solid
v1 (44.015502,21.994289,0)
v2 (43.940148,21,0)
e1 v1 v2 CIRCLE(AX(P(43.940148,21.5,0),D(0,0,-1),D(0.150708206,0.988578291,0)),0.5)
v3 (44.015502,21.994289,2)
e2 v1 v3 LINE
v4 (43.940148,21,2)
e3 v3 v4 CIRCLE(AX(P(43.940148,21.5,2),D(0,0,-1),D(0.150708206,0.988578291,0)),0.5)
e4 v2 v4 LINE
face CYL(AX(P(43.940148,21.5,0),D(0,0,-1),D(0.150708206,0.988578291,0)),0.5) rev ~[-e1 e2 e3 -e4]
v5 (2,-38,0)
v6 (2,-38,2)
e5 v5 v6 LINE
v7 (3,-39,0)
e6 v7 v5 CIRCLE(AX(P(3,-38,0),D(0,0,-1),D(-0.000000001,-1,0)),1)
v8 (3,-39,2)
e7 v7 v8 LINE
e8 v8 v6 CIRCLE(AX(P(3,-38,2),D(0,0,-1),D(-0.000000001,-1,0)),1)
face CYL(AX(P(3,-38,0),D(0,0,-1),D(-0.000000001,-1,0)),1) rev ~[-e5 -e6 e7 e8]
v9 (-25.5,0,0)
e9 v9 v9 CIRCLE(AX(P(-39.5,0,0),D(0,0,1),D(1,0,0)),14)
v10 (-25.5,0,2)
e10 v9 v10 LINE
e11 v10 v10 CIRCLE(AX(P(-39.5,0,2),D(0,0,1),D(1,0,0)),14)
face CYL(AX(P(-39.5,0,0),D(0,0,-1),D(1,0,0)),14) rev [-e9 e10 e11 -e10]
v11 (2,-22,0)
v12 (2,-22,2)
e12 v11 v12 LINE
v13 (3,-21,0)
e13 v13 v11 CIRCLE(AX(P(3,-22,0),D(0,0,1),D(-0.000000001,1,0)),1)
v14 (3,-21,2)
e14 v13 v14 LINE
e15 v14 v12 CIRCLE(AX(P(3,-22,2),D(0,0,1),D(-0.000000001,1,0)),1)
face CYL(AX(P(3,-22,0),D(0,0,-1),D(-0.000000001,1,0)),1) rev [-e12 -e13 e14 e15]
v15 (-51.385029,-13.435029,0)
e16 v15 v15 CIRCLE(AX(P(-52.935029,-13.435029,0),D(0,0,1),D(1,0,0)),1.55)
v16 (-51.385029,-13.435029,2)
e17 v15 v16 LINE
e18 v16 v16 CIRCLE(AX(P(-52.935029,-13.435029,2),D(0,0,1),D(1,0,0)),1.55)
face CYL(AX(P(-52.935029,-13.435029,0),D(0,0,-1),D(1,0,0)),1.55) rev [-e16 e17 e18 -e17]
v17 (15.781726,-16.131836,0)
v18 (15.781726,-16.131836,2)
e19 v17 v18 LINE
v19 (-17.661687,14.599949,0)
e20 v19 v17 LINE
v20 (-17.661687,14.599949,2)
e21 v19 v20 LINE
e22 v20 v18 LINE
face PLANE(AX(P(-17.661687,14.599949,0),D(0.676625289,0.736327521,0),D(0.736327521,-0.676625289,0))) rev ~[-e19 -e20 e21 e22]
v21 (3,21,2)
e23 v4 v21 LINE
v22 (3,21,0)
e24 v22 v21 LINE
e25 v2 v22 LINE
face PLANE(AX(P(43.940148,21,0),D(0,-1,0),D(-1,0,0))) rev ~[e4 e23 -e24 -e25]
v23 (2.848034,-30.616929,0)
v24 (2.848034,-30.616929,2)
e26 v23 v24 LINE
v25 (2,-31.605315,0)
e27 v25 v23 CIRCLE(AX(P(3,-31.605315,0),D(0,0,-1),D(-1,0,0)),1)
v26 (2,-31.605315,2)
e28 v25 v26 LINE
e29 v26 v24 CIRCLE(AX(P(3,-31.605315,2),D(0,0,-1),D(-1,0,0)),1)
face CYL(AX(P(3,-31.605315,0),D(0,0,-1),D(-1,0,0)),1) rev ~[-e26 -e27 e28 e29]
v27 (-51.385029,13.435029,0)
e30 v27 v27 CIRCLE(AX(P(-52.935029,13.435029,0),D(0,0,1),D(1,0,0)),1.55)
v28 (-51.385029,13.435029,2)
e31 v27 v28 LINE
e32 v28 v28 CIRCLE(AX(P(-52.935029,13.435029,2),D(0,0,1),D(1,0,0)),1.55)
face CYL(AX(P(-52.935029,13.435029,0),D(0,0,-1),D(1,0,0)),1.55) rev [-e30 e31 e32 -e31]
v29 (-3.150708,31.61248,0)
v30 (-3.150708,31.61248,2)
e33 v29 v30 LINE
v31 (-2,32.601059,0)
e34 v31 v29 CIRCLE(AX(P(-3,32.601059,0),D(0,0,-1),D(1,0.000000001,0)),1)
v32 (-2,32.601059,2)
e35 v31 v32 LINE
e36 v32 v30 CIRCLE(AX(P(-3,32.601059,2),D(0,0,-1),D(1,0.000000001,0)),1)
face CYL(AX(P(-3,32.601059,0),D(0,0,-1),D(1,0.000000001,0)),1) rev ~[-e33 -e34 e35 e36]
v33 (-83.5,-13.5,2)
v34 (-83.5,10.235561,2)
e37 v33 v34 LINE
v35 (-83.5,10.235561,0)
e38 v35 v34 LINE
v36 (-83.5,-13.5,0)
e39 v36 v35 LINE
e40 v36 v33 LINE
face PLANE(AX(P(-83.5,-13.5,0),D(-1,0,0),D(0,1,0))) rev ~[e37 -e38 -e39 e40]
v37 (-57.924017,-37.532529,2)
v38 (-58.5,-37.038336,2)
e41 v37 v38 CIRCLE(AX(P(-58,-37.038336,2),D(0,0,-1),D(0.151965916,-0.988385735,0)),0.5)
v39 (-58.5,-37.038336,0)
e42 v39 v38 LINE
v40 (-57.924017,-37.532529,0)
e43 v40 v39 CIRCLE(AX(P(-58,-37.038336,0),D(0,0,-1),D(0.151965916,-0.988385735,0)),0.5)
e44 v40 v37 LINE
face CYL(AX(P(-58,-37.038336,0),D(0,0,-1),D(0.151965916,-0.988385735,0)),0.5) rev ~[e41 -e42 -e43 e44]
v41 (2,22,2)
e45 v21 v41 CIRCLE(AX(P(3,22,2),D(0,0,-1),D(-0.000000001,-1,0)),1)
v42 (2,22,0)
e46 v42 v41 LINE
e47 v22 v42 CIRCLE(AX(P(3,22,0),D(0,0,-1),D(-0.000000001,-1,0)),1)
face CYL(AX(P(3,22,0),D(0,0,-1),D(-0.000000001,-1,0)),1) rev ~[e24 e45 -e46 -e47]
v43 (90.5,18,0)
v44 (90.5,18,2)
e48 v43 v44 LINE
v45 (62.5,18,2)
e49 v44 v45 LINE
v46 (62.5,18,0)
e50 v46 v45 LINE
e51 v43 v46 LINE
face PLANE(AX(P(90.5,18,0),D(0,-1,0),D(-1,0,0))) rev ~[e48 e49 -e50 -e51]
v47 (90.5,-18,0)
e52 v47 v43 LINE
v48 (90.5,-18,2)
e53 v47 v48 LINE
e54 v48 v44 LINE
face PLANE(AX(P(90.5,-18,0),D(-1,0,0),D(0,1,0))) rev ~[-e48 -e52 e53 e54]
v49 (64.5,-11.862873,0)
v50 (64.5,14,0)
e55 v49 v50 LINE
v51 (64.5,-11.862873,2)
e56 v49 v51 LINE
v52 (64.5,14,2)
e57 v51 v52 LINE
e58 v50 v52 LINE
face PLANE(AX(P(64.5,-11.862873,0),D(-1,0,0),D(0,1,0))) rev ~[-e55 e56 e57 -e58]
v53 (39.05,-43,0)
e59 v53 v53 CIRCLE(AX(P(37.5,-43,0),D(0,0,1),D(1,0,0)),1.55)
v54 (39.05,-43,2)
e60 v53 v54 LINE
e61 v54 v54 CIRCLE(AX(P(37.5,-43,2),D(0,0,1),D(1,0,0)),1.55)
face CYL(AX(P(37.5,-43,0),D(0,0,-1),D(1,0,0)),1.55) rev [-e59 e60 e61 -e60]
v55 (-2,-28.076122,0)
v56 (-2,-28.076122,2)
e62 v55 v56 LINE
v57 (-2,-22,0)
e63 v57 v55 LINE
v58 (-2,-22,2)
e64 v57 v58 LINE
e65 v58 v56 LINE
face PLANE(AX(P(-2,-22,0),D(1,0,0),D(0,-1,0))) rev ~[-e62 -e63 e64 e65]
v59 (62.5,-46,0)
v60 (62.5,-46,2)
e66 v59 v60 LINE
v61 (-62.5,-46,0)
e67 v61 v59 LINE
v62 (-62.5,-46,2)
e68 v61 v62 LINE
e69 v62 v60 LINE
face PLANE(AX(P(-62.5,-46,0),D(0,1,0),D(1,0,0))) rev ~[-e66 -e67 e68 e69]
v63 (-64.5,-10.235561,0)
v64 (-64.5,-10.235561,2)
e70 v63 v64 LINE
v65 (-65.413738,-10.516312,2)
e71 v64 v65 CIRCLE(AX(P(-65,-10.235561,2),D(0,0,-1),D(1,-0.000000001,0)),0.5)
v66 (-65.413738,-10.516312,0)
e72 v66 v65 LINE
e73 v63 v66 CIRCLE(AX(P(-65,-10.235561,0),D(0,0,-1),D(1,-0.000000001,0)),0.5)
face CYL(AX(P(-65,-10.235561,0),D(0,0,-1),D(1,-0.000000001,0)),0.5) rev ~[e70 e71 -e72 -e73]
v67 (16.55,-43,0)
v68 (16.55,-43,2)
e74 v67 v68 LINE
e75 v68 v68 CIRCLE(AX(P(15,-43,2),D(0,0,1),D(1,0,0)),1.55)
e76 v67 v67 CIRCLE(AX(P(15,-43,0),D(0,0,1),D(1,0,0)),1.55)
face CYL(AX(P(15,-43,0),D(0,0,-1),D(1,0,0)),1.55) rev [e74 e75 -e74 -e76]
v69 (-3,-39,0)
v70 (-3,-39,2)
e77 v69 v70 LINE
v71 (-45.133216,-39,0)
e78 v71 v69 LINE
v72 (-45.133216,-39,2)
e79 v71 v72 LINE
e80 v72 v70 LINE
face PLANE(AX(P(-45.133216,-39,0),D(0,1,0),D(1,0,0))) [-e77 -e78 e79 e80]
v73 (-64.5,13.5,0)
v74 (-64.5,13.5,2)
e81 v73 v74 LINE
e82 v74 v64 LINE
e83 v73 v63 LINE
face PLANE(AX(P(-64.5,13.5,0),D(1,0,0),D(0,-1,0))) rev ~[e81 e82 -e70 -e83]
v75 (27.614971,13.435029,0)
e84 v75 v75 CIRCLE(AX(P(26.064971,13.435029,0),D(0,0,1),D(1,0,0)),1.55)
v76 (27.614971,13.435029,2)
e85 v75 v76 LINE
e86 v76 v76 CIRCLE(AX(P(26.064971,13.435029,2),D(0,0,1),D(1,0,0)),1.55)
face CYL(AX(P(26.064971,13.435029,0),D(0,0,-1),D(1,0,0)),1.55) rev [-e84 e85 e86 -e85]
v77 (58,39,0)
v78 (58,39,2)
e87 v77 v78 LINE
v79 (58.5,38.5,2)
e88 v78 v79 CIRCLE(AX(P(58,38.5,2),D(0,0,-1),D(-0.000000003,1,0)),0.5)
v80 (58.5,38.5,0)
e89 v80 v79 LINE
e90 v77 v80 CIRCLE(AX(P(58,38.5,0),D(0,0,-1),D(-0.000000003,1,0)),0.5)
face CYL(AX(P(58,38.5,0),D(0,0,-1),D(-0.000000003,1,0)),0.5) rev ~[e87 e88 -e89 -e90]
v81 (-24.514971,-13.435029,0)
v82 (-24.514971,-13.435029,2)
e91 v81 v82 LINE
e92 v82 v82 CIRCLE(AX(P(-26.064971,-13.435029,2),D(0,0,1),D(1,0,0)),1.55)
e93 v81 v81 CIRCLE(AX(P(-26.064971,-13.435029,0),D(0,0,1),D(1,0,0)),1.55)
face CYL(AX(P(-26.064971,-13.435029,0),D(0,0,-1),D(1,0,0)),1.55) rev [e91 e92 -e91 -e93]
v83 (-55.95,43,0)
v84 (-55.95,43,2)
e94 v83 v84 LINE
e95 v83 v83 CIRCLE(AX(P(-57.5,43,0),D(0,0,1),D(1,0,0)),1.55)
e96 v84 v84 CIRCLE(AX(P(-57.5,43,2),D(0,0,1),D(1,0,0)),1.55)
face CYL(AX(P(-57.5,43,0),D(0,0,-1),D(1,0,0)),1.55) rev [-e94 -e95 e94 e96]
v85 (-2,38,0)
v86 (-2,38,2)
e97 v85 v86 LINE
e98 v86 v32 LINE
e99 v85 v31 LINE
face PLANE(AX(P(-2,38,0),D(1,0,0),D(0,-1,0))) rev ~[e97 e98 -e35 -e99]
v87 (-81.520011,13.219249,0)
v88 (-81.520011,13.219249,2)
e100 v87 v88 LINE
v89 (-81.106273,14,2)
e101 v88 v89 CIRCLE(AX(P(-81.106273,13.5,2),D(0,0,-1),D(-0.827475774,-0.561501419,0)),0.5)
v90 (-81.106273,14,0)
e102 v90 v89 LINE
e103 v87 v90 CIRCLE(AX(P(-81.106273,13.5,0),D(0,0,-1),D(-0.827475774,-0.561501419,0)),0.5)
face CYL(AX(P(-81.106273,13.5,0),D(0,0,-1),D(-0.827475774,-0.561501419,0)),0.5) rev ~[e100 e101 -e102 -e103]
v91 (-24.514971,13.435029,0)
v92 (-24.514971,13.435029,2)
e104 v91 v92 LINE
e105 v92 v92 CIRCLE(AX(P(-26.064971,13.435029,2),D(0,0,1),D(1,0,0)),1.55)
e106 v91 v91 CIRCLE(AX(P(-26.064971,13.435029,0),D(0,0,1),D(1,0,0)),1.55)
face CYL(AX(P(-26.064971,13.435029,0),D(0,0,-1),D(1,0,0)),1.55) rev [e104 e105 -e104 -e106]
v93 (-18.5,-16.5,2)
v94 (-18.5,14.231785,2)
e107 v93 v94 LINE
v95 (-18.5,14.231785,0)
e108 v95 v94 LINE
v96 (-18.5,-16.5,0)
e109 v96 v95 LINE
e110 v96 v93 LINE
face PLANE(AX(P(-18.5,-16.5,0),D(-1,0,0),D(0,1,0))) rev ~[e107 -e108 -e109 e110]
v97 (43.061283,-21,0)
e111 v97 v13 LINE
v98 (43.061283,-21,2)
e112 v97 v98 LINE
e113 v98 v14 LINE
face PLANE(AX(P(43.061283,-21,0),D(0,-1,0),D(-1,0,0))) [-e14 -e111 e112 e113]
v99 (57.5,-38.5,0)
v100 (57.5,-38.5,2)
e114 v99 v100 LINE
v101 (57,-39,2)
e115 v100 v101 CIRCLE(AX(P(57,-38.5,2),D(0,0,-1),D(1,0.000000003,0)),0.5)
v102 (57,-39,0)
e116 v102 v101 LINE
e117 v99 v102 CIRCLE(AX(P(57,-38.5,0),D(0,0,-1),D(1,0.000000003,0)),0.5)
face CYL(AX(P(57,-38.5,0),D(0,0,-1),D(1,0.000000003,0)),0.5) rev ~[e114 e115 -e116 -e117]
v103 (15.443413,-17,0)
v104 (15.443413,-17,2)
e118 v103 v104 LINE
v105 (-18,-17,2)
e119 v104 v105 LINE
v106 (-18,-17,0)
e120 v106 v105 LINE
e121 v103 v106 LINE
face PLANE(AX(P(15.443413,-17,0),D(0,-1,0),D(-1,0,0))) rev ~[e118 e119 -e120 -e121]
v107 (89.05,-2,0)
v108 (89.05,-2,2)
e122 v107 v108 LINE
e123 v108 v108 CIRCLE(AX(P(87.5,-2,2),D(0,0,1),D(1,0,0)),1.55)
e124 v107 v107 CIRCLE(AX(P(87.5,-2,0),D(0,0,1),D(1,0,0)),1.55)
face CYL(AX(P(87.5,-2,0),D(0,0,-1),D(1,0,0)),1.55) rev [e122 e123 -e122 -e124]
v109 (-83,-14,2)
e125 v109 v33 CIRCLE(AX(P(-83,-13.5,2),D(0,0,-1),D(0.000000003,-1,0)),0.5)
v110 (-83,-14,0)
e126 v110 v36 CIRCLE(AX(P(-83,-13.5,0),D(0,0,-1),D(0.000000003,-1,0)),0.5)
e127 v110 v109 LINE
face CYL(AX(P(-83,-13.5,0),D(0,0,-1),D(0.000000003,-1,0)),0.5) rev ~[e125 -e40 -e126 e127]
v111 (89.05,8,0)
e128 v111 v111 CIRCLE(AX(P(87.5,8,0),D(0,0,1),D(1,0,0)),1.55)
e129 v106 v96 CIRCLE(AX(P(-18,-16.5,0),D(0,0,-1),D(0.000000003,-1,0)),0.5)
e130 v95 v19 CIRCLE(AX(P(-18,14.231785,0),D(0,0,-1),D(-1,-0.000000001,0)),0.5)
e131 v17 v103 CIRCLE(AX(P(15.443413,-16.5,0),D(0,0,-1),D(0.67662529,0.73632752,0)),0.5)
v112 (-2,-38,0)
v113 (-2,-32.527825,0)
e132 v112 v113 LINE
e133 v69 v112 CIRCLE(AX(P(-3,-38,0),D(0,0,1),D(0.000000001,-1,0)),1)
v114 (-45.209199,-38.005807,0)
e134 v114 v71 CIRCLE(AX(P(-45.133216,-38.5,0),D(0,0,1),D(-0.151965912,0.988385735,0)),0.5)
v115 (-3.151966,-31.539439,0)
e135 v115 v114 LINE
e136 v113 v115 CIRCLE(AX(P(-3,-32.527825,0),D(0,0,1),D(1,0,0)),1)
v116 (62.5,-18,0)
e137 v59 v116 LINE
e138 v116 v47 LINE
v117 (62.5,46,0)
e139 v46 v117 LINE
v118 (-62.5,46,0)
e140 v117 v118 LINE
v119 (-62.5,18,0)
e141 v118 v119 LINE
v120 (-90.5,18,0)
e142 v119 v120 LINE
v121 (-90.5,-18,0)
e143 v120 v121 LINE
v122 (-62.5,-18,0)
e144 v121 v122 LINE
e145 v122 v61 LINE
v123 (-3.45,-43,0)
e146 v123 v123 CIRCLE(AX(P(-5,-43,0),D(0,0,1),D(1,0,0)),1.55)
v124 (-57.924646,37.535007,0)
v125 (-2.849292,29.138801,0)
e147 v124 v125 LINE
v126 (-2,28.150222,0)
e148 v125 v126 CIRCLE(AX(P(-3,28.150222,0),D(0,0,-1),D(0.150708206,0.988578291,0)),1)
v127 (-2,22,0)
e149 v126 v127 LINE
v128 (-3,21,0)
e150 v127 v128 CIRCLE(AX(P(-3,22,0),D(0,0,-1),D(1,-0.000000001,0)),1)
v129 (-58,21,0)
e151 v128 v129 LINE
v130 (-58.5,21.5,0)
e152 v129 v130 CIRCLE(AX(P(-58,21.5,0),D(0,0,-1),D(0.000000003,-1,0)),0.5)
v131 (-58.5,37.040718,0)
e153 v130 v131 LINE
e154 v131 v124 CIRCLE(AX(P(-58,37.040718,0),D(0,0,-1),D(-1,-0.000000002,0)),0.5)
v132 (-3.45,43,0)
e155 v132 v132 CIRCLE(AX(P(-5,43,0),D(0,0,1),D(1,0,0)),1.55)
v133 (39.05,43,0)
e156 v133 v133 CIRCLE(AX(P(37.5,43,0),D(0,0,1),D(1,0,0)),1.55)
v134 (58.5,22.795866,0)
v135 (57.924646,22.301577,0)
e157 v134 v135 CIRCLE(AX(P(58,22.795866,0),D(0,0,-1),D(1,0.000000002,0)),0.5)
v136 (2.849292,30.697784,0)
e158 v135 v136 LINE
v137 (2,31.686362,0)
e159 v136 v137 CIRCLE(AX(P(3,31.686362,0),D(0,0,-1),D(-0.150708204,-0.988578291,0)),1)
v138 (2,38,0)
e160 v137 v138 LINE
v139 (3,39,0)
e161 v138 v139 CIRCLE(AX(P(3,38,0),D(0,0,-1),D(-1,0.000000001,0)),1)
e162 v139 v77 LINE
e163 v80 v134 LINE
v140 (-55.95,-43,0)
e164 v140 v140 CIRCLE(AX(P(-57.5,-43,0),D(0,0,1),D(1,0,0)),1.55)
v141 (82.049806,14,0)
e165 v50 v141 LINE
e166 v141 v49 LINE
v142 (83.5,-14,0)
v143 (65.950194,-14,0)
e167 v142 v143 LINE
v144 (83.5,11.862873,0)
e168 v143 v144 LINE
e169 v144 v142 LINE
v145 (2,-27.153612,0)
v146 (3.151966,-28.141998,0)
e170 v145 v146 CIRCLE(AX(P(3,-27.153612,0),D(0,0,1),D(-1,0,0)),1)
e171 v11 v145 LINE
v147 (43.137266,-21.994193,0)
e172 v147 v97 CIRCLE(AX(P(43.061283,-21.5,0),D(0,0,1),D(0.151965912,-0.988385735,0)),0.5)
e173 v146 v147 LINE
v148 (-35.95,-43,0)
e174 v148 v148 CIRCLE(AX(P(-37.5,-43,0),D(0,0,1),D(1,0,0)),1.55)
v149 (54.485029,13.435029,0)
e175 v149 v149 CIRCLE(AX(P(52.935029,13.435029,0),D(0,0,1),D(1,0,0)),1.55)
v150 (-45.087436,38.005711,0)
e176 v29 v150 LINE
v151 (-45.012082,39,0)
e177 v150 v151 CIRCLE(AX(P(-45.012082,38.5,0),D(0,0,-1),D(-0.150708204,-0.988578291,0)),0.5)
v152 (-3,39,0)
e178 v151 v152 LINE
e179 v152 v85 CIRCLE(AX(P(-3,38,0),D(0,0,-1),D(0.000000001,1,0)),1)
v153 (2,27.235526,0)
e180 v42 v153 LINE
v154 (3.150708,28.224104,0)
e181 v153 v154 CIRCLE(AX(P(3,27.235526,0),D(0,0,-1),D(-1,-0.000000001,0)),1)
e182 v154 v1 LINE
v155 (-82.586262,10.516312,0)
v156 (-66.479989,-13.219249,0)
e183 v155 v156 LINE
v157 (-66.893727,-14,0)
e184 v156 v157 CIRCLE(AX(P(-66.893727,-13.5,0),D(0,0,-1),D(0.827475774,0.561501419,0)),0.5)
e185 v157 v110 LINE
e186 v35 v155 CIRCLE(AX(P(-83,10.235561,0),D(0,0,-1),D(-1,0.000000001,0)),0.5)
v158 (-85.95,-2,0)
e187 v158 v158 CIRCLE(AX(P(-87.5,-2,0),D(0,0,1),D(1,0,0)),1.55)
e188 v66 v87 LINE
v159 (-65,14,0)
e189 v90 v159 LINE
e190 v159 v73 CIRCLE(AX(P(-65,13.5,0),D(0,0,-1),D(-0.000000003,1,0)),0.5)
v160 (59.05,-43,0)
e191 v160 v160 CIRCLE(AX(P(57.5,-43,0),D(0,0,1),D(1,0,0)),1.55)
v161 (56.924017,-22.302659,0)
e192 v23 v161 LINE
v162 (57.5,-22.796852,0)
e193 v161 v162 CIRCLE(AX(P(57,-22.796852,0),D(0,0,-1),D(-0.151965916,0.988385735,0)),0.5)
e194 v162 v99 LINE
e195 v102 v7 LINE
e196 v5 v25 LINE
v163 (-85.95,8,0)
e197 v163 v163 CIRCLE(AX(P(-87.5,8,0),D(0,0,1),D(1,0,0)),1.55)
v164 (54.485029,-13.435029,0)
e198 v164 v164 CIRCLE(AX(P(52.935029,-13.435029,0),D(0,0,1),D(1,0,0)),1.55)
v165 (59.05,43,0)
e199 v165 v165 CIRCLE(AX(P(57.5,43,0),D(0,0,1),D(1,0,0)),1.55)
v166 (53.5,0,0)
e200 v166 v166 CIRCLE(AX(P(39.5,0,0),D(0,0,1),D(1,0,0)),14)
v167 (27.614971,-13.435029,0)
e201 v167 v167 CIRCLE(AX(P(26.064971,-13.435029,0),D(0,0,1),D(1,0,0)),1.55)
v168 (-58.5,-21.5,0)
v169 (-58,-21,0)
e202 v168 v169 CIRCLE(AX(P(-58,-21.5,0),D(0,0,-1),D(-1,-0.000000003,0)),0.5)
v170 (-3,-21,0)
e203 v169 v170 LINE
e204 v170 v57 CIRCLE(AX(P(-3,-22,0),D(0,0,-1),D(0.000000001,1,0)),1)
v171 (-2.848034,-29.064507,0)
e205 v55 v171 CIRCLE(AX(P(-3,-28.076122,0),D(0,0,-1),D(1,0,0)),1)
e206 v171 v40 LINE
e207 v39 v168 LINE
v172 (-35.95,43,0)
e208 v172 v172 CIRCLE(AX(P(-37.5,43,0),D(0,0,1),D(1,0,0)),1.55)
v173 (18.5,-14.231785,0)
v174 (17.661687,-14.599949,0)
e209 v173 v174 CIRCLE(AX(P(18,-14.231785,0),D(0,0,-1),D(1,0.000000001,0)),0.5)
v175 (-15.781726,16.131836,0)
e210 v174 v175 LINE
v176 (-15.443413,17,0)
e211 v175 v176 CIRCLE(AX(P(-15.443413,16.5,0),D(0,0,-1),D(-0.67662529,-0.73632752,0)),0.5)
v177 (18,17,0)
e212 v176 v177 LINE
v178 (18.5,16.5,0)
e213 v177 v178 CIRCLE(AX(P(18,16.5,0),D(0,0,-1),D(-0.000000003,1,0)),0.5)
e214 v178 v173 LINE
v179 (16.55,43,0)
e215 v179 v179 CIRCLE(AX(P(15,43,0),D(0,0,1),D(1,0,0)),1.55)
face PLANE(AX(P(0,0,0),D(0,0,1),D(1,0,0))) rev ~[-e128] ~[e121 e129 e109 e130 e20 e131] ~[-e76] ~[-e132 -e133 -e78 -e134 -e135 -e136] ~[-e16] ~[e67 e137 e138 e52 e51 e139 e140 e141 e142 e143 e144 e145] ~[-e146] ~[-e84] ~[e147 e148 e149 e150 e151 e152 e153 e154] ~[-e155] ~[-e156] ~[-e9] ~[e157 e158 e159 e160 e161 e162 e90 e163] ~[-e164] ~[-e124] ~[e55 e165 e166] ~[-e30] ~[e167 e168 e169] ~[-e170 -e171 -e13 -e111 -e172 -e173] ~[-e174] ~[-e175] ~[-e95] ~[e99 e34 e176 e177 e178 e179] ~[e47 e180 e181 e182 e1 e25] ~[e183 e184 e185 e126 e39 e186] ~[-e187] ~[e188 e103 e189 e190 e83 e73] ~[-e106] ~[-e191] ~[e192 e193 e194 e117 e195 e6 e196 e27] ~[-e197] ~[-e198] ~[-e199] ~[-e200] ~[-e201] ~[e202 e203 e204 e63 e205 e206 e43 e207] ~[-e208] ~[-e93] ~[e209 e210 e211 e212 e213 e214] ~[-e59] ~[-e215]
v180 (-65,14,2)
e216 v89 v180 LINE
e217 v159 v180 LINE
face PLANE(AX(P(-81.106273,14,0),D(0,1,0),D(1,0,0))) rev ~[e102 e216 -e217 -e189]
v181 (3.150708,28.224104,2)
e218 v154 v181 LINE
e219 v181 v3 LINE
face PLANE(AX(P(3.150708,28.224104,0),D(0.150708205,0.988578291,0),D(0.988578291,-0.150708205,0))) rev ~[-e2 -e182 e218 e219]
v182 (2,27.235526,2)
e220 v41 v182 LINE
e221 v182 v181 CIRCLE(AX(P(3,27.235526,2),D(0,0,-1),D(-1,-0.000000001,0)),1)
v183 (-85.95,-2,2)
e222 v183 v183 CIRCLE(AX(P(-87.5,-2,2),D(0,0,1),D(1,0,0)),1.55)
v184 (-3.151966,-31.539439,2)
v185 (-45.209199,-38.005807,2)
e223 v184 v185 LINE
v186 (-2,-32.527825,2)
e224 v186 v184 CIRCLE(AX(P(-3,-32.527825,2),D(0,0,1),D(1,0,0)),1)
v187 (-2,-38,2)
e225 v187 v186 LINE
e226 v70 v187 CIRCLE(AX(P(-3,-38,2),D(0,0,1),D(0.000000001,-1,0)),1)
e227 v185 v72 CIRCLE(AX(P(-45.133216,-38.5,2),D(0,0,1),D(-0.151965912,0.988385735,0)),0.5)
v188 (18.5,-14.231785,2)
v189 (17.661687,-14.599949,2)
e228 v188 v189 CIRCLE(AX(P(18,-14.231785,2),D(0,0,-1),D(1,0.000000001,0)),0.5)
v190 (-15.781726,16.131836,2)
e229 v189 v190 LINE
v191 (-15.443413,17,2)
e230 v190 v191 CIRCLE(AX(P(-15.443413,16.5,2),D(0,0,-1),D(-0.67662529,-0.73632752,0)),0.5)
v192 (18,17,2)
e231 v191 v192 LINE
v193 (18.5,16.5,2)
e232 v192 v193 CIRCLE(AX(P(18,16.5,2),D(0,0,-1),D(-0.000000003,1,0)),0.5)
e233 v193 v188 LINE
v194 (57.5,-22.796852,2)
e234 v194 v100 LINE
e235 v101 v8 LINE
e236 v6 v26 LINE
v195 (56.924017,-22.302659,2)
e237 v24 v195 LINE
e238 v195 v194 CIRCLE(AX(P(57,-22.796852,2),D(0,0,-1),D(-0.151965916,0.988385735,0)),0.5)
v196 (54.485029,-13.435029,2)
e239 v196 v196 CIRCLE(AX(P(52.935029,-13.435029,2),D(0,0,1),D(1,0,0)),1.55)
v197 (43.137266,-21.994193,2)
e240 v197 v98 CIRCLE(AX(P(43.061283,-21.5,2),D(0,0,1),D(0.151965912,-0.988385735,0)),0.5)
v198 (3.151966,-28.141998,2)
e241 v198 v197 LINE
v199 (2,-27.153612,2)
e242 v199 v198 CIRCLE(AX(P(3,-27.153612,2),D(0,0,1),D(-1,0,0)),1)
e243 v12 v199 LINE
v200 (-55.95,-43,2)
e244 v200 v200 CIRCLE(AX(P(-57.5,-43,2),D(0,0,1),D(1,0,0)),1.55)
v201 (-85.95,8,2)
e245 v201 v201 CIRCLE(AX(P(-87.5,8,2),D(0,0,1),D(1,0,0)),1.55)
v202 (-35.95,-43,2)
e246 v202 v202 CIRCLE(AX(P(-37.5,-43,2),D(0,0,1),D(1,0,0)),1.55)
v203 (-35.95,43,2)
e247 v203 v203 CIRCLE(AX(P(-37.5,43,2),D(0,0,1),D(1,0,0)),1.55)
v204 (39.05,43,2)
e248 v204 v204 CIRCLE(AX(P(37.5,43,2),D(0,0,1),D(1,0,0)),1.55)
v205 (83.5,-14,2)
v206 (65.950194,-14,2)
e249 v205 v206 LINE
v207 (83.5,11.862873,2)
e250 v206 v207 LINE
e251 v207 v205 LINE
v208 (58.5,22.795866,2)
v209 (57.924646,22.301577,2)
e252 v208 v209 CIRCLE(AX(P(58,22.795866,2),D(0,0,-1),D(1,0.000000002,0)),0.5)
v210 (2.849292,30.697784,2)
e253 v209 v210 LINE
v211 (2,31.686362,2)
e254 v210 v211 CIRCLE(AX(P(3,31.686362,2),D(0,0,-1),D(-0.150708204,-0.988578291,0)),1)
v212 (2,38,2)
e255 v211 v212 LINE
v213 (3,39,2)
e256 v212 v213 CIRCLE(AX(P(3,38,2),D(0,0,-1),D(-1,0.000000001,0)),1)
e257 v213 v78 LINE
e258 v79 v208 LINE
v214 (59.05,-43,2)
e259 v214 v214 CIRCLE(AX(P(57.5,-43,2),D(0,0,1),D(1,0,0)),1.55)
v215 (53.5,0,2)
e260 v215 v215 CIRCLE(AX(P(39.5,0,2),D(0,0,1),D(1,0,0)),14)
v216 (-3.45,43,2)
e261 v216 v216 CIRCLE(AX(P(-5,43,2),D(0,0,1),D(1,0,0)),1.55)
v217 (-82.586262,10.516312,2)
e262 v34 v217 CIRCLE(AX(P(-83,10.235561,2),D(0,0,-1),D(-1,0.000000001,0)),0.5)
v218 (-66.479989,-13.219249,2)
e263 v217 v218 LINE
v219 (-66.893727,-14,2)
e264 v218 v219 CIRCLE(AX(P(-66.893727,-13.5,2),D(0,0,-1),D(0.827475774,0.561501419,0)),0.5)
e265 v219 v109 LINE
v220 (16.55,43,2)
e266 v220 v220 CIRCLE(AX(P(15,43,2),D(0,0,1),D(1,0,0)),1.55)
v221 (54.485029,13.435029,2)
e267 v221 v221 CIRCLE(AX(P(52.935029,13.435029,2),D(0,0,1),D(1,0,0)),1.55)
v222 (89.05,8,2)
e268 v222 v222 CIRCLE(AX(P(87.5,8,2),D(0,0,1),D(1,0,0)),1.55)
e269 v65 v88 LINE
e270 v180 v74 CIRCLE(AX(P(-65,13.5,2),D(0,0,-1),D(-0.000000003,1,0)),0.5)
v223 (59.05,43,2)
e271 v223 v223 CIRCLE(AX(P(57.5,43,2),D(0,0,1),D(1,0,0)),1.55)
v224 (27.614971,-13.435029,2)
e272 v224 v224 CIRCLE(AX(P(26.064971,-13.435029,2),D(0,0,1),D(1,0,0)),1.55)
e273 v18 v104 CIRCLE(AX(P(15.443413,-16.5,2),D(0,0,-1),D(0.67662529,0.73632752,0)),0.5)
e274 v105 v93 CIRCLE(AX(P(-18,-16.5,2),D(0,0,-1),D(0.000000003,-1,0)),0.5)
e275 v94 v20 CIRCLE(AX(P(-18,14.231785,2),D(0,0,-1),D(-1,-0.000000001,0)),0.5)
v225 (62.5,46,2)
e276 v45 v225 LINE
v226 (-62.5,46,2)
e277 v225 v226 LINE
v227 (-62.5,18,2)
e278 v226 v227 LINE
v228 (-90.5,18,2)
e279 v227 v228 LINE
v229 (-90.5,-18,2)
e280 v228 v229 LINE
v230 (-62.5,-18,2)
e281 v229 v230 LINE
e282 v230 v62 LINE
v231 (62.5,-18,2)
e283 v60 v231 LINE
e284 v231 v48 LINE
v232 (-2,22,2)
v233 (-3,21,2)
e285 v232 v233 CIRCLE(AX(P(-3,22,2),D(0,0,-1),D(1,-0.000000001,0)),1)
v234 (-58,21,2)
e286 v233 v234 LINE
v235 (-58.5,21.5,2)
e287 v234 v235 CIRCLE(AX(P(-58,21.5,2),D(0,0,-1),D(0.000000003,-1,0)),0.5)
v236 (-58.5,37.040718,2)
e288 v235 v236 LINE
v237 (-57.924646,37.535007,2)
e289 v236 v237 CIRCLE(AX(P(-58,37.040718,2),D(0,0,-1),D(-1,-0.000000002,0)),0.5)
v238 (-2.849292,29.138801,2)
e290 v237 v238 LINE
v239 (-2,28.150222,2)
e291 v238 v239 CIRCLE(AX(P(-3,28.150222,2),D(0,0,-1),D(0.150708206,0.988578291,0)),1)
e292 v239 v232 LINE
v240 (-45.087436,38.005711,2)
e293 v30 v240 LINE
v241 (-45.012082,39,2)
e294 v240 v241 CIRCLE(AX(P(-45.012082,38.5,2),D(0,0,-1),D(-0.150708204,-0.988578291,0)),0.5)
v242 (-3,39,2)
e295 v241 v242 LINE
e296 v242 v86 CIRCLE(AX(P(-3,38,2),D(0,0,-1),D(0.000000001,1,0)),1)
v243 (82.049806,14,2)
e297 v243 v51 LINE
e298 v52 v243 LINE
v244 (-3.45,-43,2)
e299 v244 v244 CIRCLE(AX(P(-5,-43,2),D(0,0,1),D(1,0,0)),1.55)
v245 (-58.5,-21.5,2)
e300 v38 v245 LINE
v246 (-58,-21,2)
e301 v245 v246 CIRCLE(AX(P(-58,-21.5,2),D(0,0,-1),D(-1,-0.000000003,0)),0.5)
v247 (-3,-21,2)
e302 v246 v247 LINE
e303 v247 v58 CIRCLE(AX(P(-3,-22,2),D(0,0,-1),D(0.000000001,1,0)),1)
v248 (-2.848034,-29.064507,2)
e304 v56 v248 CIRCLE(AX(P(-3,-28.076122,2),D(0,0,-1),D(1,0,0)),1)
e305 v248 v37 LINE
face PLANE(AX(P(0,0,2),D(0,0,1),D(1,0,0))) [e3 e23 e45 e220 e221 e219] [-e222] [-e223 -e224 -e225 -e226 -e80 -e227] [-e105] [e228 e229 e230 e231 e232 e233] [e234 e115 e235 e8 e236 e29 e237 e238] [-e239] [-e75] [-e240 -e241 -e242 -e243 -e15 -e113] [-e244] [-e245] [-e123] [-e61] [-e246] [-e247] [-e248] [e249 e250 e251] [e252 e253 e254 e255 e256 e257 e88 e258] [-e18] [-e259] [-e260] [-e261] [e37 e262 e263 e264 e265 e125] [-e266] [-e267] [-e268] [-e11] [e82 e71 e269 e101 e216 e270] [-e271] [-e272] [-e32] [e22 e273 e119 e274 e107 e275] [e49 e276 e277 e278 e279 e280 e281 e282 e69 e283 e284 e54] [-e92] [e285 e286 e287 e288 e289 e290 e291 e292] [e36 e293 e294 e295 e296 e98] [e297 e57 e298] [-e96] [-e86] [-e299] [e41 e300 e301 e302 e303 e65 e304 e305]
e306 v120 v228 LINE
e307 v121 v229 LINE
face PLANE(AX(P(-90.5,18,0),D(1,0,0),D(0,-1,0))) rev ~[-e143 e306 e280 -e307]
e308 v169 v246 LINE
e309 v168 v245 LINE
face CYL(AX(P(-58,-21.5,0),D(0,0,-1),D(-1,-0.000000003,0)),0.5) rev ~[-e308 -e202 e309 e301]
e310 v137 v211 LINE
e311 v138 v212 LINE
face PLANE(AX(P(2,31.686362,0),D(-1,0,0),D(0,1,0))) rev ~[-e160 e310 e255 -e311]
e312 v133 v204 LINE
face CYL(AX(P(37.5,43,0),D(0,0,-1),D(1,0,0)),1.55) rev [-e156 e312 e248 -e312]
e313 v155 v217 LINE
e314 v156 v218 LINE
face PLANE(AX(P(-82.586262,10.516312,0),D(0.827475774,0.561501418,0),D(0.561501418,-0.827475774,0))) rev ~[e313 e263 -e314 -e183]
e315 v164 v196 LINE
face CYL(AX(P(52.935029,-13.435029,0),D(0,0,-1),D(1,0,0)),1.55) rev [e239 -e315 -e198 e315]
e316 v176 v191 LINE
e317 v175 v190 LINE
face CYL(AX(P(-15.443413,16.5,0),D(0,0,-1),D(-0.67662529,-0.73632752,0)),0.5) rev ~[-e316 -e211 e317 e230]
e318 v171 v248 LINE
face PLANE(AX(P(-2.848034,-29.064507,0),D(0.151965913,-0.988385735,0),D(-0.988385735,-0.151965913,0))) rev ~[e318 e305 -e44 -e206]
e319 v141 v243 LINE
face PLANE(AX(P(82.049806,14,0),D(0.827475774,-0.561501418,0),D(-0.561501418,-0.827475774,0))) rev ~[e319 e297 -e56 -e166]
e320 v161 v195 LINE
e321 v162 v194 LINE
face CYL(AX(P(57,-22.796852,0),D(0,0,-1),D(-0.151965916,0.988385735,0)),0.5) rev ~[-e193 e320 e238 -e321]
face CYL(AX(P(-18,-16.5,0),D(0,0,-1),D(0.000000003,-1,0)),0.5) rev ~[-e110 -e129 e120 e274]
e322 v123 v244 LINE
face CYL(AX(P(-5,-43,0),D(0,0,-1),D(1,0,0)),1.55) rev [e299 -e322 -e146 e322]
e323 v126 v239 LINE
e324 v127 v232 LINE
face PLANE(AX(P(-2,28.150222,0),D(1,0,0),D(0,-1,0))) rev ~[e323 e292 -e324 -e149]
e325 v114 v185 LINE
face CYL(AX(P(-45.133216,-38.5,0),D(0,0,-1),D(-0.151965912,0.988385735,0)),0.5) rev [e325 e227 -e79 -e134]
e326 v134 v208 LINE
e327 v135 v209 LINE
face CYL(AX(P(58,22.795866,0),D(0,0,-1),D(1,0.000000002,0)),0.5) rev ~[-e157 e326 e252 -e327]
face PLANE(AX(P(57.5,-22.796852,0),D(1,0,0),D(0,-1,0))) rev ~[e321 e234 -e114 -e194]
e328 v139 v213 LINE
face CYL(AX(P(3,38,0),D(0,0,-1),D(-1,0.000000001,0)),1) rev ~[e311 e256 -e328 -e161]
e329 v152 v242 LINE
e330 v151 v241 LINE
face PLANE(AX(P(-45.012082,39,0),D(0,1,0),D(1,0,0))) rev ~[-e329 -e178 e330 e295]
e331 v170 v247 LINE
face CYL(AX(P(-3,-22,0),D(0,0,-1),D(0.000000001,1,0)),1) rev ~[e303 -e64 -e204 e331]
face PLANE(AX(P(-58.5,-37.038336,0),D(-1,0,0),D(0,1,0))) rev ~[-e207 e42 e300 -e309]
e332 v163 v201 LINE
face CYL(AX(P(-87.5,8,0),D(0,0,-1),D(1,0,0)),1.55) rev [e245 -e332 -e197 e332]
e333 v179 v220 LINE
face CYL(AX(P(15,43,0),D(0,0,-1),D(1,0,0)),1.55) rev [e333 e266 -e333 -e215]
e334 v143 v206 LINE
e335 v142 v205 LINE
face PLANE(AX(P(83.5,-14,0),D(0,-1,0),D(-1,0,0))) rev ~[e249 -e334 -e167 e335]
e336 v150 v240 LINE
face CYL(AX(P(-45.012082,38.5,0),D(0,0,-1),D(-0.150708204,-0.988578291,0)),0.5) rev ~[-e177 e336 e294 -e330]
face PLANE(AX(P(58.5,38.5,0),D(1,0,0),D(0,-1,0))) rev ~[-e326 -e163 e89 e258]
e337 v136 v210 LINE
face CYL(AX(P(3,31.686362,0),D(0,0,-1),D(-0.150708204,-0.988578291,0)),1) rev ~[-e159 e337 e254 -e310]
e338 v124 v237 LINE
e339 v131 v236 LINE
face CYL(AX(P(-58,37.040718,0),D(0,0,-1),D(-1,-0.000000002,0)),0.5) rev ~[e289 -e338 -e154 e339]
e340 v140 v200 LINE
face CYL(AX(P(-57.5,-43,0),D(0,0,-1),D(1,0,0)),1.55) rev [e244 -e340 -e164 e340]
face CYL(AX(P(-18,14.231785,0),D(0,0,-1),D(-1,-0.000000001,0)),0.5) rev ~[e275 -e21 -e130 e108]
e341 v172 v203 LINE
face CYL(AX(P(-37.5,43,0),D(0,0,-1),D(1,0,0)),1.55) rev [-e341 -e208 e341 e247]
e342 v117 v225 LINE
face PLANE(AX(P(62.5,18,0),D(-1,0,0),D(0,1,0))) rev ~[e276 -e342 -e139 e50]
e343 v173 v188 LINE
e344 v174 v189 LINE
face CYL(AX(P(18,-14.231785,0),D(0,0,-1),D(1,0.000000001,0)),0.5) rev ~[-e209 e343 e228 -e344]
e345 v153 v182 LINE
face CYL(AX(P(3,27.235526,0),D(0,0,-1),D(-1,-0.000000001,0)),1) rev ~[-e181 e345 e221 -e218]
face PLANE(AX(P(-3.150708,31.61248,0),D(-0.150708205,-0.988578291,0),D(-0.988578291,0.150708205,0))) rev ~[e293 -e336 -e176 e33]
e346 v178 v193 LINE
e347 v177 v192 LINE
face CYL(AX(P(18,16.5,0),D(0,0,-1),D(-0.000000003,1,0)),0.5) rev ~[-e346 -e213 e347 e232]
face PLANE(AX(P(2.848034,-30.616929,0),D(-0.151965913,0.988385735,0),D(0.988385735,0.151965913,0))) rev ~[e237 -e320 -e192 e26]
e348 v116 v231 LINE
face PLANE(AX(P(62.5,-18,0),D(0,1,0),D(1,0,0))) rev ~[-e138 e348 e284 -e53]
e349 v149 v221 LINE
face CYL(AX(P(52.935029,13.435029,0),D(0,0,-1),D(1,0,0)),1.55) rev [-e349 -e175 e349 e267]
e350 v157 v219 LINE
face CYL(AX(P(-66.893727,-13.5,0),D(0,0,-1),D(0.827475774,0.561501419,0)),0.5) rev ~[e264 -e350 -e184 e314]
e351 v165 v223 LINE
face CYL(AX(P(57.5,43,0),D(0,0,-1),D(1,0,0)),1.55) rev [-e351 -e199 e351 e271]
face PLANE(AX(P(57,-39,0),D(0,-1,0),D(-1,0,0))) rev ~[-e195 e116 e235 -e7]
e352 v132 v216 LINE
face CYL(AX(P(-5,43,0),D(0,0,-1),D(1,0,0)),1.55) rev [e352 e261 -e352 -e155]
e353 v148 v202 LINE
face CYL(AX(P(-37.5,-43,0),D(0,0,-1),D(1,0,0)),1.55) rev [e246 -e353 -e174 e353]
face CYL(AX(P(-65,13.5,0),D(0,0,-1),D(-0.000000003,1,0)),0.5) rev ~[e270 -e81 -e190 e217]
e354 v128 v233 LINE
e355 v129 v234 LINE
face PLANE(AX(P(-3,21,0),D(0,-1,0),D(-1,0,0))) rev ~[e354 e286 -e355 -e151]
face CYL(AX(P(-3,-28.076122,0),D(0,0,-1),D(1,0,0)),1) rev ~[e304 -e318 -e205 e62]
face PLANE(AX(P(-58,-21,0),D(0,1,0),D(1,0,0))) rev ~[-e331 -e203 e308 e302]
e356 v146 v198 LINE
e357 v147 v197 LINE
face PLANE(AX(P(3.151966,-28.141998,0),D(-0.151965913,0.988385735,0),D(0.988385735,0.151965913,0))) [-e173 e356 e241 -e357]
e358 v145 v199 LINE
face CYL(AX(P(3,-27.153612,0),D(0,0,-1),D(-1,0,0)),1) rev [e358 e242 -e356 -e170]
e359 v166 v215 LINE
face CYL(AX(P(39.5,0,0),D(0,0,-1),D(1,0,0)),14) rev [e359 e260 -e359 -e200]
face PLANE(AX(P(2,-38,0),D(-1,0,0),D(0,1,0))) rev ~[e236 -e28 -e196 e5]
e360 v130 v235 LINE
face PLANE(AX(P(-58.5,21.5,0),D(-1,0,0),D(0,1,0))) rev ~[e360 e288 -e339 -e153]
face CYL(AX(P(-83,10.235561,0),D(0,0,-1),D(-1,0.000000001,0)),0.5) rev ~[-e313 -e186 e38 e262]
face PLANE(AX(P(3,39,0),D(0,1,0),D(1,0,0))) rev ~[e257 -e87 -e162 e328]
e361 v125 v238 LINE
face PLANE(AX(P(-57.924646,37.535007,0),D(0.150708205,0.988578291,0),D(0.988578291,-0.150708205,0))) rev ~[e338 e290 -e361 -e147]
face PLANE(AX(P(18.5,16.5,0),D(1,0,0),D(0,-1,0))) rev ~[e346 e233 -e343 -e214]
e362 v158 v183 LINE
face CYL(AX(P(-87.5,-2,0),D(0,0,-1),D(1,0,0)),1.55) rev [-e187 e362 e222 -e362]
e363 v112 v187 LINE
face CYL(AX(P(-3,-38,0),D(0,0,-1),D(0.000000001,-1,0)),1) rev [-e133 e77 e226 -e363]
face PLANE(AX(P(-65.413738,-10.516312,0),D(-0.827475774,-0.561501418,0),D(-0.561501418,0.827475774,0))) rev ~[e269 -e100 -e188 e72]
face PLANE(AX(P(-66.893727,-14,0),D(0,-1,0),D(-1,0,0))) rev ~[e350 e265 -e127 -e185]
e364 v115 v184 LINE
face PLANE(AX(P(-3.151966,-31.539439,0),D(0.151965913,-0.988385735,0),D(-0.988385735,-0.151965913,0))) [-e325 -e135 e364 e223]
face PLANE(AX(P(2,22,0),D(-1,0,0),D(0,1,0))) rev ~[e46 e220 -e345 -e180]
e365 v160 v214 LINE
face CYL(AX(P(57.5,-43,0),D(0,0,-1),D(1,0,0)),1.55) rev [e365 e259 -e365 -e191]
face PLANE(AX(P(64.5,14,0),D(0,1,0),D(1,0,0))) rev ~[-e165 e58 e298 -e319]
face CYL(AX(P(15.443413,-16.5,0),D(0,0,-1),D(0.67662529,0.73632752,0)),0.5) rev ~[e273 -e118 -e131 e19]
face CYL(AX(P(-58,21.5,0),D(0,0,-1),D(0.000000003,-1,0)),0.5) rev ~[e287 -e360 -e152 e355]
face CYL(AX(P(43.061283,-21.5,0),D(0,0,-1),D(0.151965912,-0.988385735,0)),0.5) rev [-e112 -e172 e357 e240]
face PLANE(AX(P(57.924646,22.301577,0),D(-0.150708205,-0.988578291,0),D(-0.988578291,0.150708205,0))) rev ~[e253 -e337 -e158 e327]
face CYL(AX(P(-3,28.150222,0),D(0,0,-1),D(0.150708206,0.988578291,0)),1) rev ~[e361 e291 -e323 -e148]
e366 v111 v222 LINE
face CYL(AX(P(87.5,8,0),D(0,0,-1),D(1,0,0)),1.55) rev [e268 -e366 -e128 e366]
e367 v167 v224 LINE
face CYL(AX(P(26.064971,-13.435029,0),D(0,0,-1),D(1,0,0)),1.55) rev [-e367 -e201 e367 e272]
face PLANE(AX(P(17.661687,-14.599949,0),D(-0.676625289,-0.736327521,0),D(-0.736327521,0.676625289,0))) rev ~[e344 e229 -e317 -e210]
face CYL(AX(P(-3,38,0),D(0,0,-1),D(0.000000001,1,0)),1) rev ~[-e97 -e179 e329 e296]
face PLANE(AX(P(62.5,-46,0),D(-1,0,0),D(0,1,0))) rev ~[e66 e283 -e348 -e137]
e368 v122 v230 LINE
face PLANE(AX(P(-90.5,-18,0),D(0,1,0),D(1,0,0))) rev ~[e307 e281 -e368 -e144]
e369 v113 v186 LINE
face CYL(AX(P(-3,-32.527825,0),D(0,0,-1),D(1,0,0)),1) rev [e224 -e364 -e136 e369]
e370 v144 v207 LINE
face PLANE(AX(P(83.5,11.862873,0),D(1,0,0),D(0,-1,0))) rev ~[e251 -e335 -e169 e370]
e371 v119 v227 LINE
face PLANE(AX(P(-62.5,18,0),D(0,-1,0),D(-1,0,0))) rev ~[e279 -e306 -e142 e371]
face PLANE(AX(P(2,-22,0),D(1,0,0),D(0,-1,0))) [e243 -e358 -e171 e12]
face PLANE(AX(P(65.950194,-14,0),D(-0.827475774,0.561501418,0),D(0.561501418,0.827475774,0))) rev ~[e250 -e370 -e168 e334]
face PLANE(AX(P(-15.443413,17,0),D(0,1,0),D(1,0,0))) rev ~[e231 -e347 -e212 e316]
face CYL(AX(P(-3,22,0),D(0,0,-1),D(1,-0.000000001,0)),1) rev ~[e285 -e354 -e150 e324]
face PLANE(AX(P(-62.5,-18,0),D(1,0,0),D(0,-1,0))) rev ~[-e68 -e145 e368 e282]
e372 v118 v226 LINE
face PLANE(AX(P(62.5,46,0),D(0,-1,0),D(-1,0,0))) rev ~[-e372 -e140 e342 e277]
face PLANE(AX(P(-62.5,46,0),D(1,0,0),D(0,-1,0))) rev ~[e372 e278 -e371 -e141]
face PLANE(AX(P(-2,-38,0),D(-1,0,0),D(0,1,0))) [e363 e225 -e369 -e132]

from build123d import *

# Parameters (mm, degrees)
SKETCH_1_R      = 1.55
SKETCH_1_R_2    = 14
EXTRUDE_1_DEPTH = 2


with BuildPart() as part:
    # 草图1 → 凸台-拉伸1 (new body)
    with BuildSketch(Plane.XY):
        Polygon((-90.5, 18), (-90.5, -18), (-62.5, -18), (-62.5, -46), (62.5, -46), (62.5, -18), (90.5, -18), (90.5, 18), (62.5, 18), (62.5, 46), (-62.5, 46), (-62.5, 18), align=None)
        with Locations((-52.935028843, -13.435028843)):
            Circle(SKETCH_1_R, mode=Mode.SUBTRACT)
        with Locations((-52.935028843, 13.435028843)):
            Circle(SKETCH_1_R, mode=Mode.SUBTRACT)
        with Locations((-26.064971157, -13.435028843)):
            Circle(SKETCH_1_R, mode=Mode.SUBTRACT)
        with Locations((-26.064971157, 13.435028843)):
            Circle(SKETCH_1_R, mode=Mode.SUBTRACT)
        with Locations((-39.5, 0)):
            Circle(SKETCH_1_R_2, mode=Mode.SUBTRACT)
        with Locations((39.5, 0)):
            Circle(SKETCH_1_R_2, mode=Mode.SUBTRACT)
        with Locations((57.5, -43)):
            Circle(SKETCH_1_R, mode=Mode.SUBTRACT)
        with Locations((37.5, -43)):
            Circle(SKETCH_1_R, mode=Mode.SUBTRACT)
        with Locations((-57.5, -43)):
            Circle(SKETCH_1_R, mode=Mode.SUBTRACT)
        with Locations((-37.5, -43)):
            Circle(SKETCH_1_R, mode=Mode.SUBTRACT)
        with Locations((-57.5, 43)):
            Circle(SKETCH_1_R, mode=Mode.SUBTRACT)
        with Locations((-37.5, 43)):
            Circle(SKETCH_1_R, mode=Mode.SUBTRACT)
        with Locations((37.5, 43)):
            Circle(SKETCH_1_R, mode=Mode.SUBTRACT)
        with Locations((57.5, 43)):
            Circle(SKETCH_1_R, mode=Mode.SUBTRACT)
        with Locations((15, -43)):
            Circle(SKETCH_1_R, mode=Mode.SUBTRACT)
        with Locations((-5, -43)):
            Circle(SKETCH_1_R, mode=Mode.SUBTRACT)
        with Locations((-5, 43)):
            Circle(SKETCH_1_R, mode=Mode.SUBTRACT)
        with Locations((15, 43)):
            Circle(SKETCH_1_R, mode=Mode.SUBTRACT)
        with Locations((-87.5, 8)):
            Circle(SKETCH_1_R, mode=Mode.SUBTRACT)
        with Locations((-87.5, -2)):
            Circle(SKETCH_1_R, mode=Mode.SUBTRACT)
        with Locations((87.5, 8)):
            Circle(SKETCH_1_R, mode=Mode.SUBTRACT)
        with Locations((87.5, -2)):
            Circle(SKETCH_1_R, mode=Mode.SUBTRACT)
        with Locations((26.064971157, 13.435028843)):
            Circle(SKETCH_1_R, mode=Mode.SUBTRACT)
        with Locations((52.935028843, 13.435028843)):
            Circle(SKETCH_1_R, mode=Mode.SUBTRACT)
        with Locations((52.935028843, -13.435028843)):
            Circle(SKETCH_1_R, mode=Mode.SUBTRACT)
        with Locations((26.064971157, -13.435028843)):
            Circle(SKETCH_1_R, mode=Mode.SUBTRACT)
        with BuildLine():
            Line((-81.106273476, 14), (-65, 14))
            ThreePointArc((-65, 14), (-64.646446609, 13.853553391), (-64.5, 13.5))
            Line((-64.5, 13.5), (-64.5, -10.235560912))
            ThreePointArc((-64.5, -10.235560912), (-64.853147938, -10.713509101), (-65.413737887, -10.516311621))
            Line((-65.413737887, -10.516311621), (-81.520011363, 13.219249291))
            ThreePointArc((-81.520011363, 13.219249291), (-81.548073971, 13.734120317), (-81.106273476, 14))
        make_face(mode=Mode.SUBTRACT)
        with BuildLine():
            Line((-66.893726524, -14), (-83, -14))
            ThreePointArc((-83, -14), (-83.353553391, -13.853553391), (-83.5, -13.5))
            Line((-83.5, -13.5), (-83.5, 10.235560912))
            ThreePointArc((-83.5, 10.235560912), (-83.146852062, 10.713509101), (-82.586262113, 10.516311621))
            Line((-82.586262113, 10.516311621), (-66.479988637, -13.219249291))
            ThreePointArc((-66.479988637, -13.219249291), (-66.451926029, -13.734120317), (-66.893726524, -14))
        make_face(mode=Mode.SUBTRACT)
        with BuildLine():
            Line((-45.012081811, 39), (-3, 39))
            ThreePointArc((-3, 39), (-2.292893219, 38.707106781), (-2, 38))
            Line((-2, 38), (-2, 32.601058551))
            ThreePointArc((-2, 32.601058551), (-2.3483514, 31.842537554), (-3.150708205, 31.61248026))
            Line((-3.150708205, 31.61248026), (-45.087435913, 38.005710855))
            ThreePointArc((-45.087435913, 38.005710855), (-45.510652053, 38.537785098), (-45.012081811, 39))
        make_face(mode=Mode.SUBTRACT)
        with BuildLine():
            Line((58.5, 38.5), (58.5, 22.795865962))
            ThreePointArc((58.5, 22.795865962), (58.3258243, 22.416605463), (57.924645897, 22.301576816))
            Line((57.924645897, 22.301576816), (2.849291795, 30.697783629))
            ThreePointArc((2.849291795, 30.697783629), (2.241479003, 31.03471332), (2, 31.686361919))
            Line((2, 31.686361919), (2, 38))
            ThreePointArc((2, 38), (2.292893219, 38.707106781), (3, 39))
            Line((3, 39), (58, 39))
            ThreePointArc((58, 39), (58.353553391, 38.853553391), (58.5, 38.5))
        make_face(mode=Mode.SUBTRACT)
        with BuildLine():
            Line((43.940148136, 21), (3, 21))
            ThreePointArc((3, 21), (2.292893219, 21.292893219), (2, 22))
            Line((2, 22), (2, 27.235525762))
            ThreePointArc((2, 27.235525762), (2.3483514, 27.994046759), (3.150708205, 28.224104053))
            Line((3.150708205, 28.224104053), (44.015502239, 21.994289145))
            ThreePointArc((44.015502239, 21.994289145), (44.438718378, 21.462214902), (43.940148136, 21))
        make_face(mode=Mode.SUBTRACT)
        with BuildLine():
            Line((-58.5, 21.5), (-58.5, 37.040718351))
            ThreePointArc((-58.5, 37.040718351), (-58.3258243, 37.41997885), (-57.924645897, 37.535007497))
            Line((-57.924645897, 37.535007497), (-2.849291795, 29.138800685))
            ThreePointArc((-2.849291795, 29.138800685), (-2.241479003, 28.801870993), (-2, 28.150222394))
            Line((-2, 28.150222394), (-2, 22))
            ThreePointArc((-2, 22), (-2.292893219, 21.292893219), (-3, 21))
            Line((-3, 21), (-58, 21))
            ThreePointArc((-58, 21), (-58.353553391, 21.146446609), (-58.5, 21.5))
        make_face(mode=Mode.SUBTRACT)
        with BuildLine():
            Line((-58, -21), (-3, -21))
            ThreePointArc((-3, -21), (-2.292893219, -21.292893219), (-2, -22))
            Line((-2, -22), (-2, -28.076121659))
            ThreePointArc((-2, -28.076121659), (-2.24106459, -28.72728757), (-2.848034087, -29.064507394))
            Line((-2.848034087, -29.064507394), (-57.924017044, -37.532529251))
            ThreePointArc((-57.924017044, -37.532529251), (-58.325582956, -37.417804089), (-58.5, -37.038336384))
            Line((-58.5, -37.038336384), (-58.5, -21.5))
            ThreePointArc((-58.5, -21.5), (-58.353553391, -21.146446609), (-58, -21))
        make_face(mode=Mode.SUBTRACT)
        with BuildLine():
            Line((57.5, -22.796852072), (57.5, -38.5))
            ThreePointArc((57.5, -38.5), (57.353553391, -38.853553391), (57, -39))
            Line((57, -39), (3, -39))
            ThreePointArc((3, -39), (2.292893219, -38.707106781), (2, -38))
            Line((2, -38), (2, -31.605315172))
            ThreePointArc((2, -31.605315172), (2.24106459, -30.954149261), (2.848034087, -30.616929437))
            Line((2.848034087, -30.616929437), (56.924017044, -22.302659205))
            ThreePointArc((56.924017044, -22.302659205), (57.325582956, -22.417384367), (57.5, -22.796852072))
        make_face(mode=Mode.SUBTRACT)
        Polygon((64.5, 14), (82.049806487, 14), (64.5, -11.862872718), align=None, mode=Mode.SUBTRACT)
        Polygon((83.5, 11.862872718), (83.5, -14), (65.950193513, -14), align=None, mode=Mode.SUBTRACT)
        with BuildLine():
            Line((-15.443413448, 17), (18, 17))
            ThreePointArc((18, 17), (18.353553391, 16.853553391), (18.5, 16.5))
            Line((18.5, 16.5), (18.5, -14.23178533))
            ThreePointArc((18.5, -14.23178533), (18.201051831, -14.689582405), (17.661687355, -14.599949091))
            Line((17.661687355, -14.599949091), (-15.781726092, 16.13183624))
            ThreePointArc((-15.781726092, 16.13183624), (-15.909289976, 16.681546302), (-15.443413448, 17))
        make_face(mode=Mode.SUBTRACT)
        with BuildLine():
            Line((15.443413448, -17), (-18, -17))
            ThreePointArc((-18, -17), (-18.353553391, -16.853553391), (-18.5, -16.5))
            Line((-18.5, -16.5), (-18.5, 14.23178533))
            ThreePointArc((-18.5, 14.23178533), (-18.201051831, 14.689582405), (-17.661687355, 14.599949091))
            Line((-17.661687355, 14.599949091), (15.781726092, -16.13183624))
            ThreePointArc((15.781726092, -16.13183624), (15.909289976, -16.681546302), (15.443413448, -17))
        make_face(mode=Mode.SUBTRACT)
        with BuildLine():
            Line((2, -22), (2, -27.153611911))
            ThreePointArc((2, -27.153611911), (2.348834089, -27.912547321), (3.151965913, -28.141997647))
            Line((3.151965913, -28.141997647), (43.137265542, -21.994192868))
            ThreePointArc((43.137265542, -21.994192868), (43.559828689, -21.461897728), (43.061282586, -21))
            Line((43.061282586, -21), (3, -21))
            ThreePointArc((3, -21), (2.292893219, -21.292893219), (2, -22))
        make_face(mode=Mode.SUBTRACT)
        with BuildLine():
            Line((-2, -38), (-2, -32.52782492))
            ThreePointArc((-2, -32.52782492), (-2.348834089, -31.76888951), (-3.151965913, -31.539439185))
            Line((-3.151965913, -31.539439185), (-45.209199217, -38.005807132))
            ThreePointArc((-45.209199217, -38.005807132), (-45.631762364, -38.538102272), (-45.133216261, -39))
            Line((-45.133216261, -39), (-3, -39))
            ThreePointArc((-3, -39), (-2.292893219, -38.707106781), (-2, -38))
        make_face(mode=Mode.SUBTRACT)
    extrude(amount=EXTRUDE_1_DEPTH)


solid = part.part
